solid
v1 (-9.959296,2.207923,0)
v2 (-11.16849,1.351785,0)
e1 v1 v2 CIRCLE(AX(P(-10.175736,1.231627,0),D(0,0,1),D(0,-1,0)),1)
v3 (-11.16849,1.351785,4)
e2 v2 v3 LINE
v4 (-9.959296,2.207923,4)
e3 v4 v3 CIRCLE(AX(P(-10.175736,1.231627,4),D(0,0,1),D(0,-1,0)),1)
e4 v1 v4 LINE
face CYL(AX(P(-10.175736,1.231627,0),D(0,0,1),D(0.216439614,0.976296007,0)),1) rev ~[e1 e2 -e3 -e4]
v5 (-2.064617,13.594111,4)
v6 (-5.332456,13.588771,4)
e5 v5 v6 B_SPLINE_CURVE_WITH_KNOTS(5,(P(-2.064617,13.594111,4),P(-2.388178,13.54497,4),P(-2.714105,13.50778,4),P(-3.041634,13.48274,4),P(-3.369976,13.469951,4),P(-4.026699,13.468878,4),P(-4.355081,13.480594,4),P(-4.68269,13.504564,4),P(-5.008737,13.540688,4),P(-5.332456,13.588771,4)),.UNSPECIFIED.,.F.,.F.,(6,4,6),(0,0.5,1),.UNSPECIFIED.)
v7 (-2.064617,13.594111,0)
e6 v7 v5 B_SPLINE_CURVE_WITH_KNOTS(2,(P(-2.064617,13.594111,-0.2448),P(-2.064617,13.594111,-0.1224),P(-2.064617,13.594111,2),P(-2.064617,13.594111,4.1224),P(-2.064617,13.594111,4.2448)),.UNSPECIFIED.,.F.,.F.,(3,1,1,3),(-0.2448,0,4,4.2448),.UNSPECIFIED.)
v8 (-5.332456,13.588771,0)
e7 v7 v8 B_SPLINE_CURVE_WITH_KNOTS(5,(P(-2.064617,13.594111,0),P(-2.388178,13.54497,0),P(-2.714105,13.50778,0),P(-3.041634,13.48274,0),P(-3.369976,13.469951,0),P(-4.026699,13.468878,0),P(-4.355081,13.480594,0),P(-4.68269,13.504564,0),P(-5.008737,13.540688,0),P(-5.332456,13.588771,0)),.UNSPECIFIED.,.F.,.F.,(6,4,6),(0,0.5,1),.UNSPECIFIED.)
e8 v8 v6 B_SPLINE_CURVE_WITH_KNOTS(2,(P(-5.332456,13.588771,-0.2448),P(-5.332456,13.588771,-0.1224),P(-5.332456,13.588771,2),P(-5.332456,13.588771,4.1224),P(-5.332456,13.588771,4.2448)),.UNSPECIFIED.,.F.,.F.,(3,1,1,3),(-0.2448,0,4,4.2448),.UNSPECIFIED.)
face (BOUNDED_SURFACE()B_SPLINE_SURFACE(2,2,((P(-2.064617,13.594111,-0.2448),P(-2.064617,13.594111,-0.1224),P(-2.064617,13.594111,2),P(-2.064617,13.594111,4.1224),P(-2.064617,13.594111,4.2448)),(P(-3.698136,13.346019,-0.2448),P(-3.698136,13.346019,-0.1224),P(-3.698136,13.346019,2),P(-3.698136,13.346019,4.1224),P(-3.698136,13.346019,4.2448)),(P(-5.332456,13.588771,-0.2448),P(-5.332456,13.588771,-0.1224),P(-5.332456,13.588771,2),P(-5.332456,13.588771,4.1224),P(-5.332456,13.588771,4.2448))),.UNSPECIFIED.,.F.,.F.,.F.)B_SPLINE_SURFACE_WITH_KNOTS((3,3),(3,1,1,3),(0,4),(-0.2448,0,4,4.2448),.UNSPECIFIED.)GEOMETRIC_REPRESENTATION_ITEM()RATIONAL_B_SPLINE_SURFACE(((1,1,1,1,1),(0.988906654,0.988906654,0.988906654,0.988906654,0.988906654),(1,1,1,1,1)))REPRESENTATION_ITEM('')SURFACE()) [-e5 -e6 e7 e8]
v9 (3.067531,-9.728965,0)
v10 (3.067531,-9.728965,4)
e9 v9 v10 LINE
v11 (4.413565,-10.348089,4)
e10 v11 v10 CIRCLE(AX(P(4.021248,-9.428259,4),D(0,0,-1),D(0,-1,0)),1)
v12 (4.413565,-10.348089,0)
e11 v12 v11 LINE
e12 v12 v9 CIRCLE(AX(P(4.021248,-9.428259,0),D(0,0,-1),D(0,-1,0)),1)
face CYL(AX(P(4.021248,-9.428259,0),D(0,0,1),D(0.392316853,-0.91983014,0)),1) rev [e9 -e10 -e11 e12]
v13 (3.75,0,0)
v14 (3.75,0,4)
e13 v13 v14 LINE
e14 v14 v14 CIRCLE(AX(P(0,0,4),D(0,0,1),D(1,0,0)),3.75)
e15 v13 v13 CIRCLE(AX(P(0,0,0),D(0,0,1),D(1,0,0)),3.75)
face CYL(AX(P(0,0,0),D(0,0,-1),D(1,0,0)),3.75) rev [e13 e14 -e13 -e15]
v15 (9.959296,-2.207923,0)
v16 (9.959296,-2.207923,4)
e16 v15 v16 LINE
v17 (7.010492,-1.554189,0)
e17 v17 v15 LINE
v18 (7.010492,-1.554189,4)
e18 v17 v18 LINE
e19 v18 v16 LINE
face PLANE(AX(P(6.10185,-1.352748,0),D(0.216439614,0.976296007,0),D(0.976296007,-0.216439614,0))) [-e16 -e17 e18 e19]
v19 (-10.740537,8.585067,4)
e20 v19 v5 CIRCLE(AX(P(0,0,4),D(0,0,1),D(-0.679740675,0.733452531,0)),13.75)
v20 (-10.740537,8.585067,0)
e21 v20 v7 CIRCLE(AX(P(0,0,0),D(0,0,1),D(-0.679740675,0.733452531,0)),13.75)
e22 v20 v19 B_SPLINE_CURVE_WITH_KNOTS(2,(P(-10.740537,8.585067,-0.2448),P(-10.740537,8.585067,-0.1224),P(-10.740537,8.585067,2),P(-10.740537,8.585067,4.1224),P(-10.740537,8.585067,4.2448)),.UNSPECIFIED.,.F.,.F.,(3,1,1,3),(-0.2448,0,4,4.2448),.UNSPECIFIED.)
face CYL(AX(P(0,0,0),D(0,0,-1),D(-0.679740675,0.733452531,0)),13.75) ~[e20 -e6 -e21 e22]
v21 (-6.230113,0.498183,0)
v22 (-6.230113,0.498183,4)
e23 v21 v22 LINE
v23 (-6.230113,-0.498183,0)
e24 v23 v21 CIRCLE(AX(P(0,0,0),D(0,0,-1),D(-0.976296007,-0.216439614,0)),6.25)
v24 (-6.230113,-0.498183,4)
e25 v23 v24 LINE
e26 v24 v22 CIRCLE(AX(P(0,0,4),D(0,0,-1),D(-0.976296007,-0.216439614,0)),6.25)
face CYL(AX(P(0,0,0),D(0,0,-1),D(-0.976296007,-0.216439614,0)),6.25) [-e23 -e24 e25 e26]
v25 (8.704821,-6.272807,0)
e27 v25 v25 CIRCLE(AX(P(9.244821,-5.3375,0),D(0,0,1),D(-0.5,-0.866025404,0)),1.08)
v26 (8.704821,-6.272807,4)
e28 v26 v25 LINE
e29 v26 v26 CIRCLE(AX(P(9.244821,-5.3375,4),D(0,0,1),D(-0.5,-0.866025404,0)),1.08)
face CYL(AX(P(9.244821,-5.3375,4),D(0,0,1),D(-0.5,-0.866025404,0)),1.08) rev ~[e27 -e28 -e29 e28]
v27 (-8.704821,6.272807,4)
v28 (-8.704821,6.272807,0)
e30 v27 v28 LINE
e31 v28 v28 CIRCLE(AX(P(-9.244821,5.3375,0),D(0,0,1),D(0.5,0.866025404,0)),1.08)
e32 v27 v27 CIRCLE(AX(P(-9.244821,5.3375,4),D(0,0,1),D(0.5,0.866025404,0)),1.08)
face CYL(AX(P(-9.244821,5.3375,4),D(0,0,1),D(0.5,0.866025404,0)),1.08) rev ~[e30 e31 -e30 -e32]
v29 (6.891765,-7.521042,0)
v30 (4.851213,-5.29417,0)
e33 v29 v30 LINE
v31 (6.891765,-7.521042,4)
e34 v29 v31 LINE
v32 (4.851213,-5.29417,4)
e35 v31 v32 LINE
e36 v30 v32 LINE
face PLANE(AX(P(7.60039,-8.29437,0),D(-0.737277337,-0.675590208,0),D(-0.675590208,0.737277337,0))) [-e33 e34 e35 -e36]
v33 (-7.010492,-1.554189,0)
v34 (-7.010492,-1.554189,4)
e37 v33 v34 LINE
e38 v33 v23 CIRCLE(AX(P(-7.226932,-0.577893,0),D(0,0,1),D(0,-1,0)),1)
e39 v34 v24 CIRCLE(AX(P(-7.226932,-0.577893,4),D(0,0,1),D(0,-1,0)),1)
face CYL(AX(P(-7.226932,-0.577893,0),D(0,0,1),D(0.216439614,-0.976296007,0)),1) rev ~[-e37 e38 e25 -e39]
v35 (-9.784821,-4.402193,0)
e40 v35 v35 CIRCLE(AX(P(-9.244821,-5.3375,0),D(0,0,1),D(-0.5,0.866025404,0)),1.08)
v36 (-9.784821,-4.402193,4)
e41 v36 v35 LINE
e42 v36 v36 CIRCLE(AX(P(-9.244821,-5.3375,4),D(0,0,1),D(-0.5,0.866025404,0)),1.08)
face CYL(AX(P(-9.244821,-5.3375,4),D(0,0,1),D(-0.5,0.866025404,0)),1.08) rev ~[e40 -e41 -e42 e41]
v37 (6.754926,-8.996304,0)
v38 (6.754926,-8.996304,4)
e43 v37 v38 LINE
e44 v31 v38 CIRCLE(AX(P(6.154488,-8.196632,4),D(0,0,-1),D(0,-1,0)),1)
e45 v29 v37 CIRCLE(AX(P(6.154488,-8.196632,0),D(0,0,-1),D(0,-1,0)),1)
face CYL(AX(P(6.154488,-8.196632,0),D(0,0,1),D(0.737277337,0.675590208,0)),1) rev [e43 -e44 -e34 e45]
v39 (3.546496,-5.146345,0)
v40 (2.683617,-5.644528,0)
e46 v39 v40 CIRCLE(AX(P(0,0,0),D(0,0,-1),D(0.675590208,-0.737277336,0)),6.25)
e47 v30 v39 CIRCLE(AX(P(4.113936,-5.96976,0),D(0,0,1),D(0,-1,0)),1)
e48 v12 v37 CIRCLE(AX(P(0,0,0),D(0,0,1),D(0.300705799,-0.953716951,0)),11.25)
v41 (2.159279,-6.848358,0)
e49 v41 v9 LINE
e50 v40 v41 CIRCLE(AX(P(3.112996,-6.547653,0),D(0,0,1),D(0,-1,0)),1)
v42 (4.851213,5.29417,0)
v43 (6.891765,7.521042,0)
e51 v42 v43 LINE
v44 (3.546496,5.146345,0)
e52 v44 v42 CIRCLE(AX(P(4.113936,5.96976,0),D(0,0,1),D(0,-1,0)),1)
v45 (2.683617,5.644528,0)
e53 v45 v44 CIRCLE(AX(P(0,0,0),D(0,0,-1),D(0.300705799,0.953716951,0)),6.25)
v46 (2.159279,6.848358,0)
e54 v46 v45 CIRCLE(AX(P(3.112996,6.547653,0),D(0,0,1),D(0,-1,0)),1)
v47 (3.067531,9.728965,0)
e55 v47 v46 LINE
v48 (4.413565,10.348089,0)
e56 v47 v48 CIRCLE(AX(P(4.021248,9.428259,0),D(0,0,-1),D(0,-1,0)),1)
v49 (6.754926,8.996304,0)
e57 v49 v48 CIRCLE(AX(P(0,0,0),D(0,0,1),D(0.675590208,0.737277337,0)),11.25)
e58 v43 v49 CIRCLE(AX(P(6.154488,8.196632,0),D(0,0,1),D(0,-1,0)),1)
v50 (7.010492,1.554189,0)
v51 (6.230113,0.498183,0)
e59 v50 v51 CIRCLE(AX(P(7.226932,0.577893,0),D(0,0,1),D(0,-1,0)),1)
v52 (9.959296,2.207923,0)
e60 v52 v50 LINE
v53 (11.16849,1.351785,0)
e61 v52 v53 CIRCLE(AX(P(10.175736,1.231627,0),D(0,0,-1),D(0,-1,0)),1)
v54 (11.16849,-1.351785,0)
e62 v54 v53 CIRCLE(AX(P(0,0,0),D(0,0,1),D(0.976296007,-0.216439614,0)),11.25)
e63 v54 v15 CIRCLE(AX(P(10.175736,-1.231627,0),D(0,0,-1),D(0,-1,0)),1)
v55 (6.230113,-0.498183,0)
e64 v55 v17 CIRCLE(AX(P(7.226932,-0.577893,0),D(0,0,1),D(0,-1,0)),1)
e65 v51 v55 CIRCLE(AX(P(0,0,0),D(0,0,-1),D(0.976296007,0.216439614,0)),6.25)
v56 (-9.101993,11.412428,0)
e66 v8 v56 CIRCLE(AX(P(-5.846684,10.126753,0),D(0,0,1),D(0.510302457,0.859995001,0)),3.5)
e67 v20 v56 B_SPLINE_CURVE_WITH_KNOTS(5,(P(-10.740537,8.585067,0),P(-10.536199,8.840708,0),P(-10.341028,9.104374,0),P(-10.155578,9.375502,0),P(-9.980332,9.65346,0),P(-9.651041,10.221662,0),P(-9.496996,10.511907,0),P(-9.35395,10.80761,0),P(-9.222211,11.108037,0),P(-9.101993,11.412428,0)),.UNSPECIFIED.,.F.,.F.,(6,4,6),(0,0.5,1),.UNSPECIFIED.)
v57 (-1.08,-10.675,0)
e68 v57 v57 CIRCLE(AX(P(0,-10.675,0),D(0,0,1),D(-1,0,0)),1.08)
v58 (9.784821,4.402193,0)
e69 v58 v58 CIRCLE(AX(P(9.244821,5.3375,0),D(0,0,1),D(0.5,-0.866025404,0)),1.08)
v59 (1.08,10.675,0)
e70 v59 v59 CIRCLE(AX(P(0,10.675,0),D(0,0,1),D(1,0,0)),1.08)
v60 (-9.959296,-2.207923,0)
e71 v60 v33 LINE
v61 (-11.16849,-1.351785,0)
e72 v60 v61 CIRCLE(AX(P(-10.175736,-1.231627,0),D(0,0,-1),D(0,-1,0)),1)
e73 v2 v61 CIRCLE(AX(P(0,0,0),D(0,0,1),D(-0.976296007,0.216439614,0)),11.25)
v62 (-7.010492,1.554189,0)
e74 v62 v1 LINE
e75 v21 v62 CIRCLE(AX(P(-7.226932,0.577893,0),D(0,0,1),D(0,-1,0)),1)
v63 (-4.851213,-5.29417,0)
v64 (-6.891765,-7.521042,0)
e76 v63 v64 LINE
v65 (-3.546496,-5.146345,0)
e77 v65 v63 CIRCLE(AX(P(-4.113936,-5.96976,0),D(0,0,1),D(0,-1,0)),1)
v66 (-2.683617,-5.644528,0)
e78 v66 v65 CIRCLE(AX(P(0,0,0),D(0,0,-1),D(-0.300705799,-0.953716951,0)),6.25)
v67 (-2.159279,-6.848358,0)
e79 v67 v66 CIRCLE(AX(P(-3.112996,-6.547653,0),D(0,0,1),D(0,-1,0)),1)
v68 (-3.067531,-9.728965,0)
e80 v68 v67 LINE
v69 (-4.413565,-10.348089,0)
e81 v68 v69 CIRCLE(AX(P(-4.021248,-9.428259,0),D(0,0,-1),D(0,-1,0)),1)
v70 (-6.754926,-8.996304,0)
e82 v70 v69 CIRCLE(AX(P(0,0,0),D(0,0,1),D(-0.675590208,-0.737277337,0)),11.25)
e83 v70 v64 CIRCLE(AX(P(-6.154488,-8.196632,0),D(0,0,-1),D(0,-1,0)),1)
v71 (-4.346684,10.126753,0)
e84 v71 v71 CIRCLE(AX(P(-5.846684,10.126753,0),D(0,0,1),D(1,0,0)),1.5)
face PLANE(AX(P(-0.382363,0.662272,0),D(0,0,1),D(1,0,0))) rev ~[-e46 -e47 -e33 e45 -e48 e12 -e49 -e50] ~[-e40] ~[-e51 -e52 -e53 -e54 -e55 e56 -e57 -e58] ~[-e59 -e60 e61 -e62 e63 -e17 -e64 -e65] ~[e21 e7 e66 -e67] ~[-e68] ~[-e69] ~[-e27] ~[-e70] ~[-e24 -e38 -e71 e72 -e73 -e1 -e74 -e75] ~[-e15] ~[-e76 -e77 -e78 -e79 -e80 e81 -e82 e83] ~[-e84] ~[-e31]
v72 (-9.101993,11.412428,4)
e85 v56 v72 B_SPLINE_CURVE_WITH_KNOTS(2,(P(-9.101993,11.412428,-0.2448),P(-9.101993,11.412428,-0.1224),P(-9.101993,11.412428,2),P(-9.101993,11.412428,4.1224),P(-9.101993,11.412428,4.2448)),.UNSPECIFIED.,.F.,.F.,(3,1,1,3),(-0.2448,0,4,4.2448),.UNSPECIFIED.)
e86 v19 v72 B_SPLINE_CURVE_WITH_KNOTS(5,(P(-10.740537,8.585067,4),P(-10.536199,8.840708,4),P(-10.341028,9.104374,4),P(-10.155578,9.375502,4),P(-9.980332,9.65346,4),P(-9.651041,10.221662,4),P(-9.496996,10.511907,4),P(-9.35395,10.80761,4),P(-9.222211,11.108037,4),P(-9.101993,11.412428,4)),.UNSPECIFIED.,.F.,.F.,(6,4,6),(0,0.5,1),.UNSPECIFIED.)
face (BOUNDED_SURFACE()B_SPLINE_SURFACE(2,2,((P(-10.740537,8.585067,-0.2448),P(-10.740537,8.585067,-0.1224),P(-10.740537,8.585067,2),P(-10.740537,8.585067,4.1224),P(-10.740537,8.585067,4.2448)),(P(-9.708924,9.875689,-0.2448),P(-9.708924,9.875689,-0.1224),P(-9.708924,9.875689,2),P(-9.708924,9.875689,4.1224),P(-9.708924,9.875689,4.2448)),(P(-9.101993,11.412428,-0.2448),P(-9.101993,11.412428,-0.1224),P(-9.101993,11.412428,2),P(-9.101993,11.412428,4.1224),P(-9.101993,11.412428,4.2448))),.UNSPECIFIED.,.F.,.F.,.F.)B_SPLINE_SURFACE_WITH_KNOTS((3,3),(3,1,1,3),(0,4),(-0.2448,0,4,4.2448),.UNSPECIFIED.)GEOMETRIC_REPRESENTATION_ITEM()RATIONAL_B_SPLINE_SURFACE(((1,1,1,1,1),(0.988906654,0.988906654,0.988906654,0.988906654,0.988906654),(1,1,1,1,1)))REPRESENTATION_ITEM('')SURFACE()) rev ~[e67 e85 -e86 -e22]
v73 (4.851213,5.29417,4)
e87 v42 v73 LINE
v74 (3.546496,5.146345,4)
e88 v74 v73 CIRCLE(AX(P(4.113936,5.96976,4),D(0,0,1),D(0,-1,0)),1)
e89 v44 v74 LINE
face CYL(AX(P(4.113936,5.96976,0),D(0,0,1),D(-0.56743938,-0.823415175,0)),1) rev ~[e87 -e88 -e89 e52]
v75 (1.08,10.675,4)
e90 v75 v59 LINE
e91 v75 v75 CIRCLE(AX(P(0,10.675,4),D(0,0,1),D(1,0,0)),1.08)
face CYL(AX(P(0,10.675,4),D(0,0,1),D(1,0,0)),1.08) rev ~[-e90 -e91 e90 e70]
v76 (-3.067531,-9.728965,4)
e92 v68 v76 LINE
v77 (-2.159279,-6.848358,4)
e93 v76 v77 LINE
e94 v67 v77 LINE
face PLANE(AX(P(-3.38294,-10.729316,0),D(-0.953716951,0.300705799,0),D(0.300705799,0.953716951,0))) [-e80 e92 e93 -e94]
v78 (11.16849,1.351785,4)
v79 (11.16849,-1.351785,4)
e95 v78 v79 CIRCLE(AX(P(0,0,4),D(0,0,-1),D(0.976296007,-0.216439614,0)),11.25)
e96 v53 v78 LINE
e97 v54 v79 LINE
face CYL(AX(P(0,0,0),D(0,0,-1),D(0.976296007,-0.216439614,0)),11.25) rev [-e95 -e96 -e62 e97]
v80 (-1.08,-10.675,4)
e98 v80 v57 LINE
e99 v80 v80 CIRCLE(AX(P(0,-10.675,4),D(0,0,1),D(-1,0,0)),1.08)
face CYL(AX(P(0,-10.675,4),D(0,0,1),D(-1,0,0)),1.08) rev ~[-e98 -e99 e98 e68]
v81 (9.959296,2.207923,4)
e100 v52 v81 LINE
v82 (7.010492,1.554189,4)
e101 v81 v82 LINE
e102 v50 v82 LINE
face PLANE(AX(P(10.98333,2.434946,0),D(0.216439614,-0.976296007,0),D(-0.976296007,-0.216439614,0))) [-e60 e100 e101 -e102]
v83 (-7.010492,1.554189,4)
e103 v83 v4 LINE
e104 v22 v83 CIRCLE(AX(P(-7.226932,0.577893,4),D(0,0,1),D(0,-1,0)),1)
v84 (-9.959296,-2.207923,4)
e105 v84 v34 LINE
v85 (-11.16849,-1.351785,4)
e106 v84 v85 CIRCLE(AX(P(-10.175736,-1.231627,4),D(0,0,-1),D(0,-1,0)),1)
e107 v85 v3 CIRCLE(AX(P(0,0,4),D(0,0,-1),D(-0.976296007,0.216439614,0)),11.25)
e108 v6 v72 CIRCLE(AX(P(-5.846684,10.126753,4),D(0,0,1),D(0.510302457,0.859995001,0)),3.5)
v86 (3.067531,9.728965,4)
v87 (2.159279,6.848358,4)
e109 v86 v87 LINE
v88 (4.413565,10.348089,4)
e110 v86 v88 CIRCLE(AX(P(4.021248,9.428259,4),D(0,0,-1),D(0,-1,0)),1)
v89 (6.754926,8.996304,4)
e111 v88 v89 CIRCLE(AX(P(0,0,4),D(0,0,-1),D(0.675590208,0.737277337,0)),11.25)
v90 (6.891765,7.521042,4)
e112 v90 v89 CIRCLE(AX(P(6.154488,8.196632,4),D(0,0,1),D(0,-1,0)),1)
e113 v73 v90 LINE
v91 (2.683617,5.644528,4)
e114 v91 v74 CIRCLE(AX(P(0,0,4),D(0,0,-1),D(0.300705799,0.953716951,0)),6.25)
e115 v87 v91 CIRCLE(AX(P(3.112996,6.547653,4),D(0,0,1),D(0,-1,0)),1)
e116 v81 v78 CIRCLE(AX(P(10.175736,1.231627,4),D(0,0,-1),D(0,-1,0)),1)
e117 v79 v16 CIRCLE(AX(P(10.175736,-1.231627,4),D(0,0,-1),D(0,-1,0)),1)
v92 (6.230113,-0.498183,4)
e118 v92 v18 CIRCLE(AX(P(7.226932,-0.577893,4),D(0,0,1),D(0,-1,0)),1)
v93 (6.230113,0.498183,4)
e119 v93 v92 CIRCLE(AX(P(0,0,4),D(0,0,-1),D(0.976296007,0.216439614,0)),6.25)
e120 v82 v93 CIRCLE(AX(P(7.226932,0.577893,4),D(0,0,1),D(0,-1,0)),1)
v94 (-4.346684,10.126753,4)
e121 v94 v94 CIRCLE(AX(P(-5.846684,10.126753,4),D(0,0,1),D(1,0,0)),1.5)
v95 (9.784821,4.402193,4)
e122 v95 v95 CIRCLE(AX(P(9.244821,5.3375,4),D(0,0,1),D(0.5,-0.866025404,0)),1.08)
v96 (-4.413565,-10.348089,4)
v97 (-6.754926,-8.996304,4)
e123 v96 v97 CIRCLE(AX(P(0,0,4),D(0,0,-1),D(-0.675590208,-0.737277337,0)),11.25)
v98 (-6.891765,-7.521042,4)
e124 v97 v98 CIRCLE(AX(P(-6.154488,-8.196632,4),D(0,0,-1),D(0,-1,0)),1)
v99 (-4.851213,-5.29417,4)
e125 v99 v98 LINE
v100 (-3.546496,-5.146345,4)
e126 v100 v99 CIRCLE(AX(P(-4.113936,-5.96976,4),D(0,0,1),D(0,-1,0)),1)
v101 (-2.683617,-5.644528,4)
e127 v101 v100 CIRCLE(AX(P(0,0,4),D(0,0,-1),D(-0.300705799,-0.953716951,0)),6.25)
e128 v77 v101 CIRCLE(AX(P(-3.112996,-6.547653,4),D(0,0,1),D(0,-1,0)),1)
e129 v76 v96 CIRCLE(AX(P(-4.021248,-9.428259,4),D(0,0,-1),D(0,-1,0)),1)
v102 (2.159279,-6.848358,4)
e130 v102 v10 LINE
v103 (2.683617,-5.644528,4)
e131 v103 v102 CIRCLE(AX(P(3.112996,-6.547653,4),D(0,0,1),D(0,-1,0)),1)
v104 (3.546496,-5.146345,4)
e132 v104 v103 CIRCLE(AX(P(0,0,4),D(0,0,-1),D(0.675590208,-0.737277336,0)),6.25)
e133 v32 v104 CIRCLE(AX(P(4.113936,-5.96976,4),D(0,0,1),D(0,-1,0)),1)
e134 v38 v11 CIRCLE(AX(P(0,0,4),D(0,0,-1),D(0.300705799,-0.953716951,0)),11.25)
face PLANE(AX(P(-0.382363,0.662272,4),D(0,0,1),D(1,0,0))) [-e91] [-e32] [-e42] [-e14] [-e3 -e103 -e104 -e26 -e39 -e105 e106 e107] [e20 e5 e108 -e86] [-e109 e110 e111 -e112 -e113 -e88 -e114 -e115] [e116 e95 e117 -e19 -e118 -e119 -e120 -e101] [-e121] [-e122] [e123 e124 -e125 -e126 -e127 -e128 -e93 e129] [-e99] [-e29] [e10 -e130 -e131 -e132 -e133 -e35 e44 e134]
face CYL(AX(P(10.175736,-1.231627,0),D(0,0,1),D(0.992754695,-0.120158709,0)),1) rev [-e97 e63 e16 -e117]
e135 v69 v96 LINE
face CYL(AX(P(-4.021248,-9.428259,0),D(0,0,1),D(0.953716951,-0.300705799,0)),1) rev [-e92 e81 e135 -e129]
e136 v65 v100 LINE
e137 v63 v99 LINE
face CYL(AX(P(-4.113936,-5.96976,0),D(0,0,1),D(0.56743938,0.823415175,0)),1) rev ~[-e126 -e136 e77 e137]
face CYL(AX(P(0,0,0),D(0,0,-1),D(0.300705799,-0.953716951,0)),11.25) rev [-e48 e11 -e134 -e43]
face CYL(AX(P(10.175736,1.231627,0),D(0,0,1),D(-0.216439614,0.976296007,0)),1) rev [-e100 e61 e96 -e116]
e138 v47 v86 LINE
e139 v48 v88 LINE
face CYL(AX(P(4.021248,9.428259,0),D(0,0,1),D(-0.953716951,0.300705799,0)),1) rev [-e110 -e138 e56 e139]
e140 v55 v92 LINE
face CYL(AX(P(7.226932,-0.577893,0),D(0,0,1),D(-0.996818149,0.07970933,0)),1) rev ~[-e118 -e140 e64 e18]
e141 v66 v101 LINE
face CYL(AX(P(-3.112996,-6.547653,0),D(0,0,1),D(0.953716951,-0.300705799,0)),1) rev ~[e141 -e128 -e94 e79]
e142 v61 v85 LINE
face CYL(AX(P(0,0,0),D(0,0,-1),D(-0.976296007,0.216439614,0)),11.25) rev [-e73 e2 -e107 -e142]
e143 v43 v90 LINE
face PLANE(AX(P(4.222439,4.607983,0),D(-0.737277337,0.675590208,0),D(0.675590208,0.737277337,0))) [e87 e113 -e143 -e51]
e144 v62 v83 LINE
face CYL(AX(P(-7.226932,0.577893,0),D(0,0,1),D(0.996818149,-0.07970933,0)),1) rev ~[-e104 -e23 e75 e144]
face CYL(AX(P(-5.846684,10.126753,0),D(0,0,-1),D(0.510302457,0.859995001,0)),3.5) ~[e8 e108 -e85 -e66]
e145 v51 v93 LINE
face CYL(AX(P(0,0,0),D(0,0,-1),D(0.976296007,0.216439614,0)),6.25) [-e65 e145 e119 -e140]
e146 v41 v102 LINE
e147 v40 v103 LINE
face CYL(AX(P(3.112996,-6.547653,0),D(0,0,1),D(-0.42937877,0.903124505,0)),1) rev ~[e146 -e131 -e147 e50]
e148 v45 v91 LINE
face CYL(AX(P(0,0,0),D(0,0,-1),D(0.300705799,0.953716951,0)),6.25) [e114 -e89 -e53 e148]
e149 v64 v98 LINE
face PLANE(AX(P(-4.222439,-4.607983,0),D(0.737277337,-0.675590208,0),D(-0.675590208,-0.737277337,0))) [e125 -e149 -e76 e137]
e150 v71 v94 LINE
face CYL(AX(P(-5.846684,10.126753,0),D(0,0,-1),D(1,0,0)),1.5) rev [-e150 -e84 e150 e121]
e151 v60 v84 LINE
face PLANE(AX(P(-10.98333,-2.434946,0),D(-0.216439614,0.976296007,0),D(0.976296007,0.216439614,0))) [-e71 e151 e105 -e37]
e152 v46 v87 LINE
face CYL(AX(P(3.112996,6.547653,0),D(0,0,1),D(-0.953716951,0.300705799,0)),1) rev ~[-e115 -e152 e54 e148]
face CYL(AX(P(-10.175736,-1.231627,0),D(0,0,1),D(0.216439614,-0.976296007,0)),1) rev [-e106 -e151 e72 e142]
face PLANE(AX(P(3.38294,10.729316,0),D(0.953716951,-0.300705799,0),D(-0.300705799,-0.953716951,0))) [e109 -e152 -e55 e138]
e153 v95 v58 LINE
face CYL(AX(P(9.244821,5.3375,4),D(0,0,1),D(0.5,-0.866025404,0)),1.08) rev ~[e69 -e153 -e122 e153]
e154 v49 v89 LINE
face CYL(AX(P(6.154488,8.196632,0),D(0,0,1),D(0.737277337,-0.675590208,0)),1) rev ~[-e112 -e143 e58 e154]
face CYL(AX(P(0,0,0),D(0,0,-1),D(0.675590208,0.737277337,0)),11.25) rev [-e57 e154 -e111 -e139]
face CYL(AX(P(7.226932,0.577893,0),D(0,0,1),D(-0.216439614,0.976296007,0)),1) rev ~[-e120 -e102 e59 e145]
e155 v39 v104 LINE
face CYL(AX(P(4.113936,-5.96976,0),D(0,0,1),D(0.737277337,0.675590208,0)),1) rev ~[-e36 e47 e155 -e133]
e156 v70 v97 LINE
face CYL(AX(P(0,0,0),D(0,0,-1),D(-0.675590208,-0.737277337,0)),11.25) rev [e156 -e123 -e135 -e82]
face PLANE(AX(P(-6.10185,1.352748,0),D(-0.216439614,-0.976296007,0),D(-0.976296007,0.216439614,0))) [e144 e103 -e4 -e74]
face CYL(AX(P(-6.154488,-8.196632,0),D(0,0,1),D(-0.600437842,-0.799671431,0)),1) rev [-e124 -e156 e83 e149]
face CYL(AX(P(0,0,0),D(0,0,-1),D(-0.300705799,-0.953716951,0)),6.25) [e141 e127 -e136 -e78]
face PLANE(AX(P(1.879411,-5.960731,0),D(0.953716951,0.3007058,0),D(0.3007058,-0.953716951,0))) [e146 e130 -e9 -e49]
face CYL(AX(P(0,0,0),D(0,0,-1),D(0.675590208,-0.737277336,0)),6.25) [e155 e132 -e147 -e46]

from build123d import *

# Parameters (mm, degrees)
ESQUISSE1_R                        = 3.75
ESQUISSE1_R_2                      = 1.5
BOSS_EXTRU_1_DEPTH                 = 4
ENL_V_MAT_EXTRU_1_REACH            = 21.853
ESQUISSE2_R                        = 1.08
R_P_TITION_CIRCULAIRE1_COUNT       = 6
CONG_1_R                           = 11
ENL_V_MAT_EXTRU_2_REACH            = 21.853
CONG_2_R                           = 1
R_P_TITION_CIRCULAIRE2_COUNT       = 5
R_P_TITION_CIRCULAIRE2_ANGLE       = 240
CONG_2_OF_R_P_TITION_CIRCULAIRE2_R = 1


with BuildPart() as part:
    # Esquisse1 → Boss.-Extru.1 (new body)
    with BuildSketch(Plane.XY):
        with BuildLine():
            ThreePointArc((-9.34643428, 10.084972298), (6.875, -11.907849302), (-4.060625067, 13.13673567))
            ThreePointArc((-4.060625067, 13.13673567), (-7.596683666, 13.157842079), (-9.34643428, 10.084972298))
        make_face()
        Circle(ESQUISSE1_R, mode=Mode.SUBTRACT)
        with Locations((-5.846683666, 10.126753165)):
            Circle(ESQUISSE1_R_2, mode=Mode.SUBTRACT)
    extrude(amount=BOSS_EXTRU_1_DEPTH)

    # Esquisse2 → Enlèv. mat.-Extru.1 (cut, up to next)
    with BuildSketch(Plane.XY.offset(4), mode=Mode.PRIVATE) as enl_v_mat_extru_1_sk1:
        with Locations((0, 10.675)):
            Circle(ESQUISSE2_R)
    enl_v_mat_extru_1_tool1 = extrude(enl_v_mat_extru_1_sk1.sketch, amount=-ENL_V_MAT_EXTRU_1_REACH, mode=Mode.PRIVATE) & part.part
    enl_v_mat_extru_1 = enl_v_mat_extru_1_tool1.solids().sort_by_distance((0, 10.675, 4))[0]
    add(enl_v_mat_extru_1, mode=Mode.SUBTRACT)

    # Répétition circulaire1: Enlèv. mat.-Extru.1 ×6 about axis
    r_p_tition_circulaire1_axis = Axis((0, 0, 0), (0, 0, 1))
    for i in range(1, R_P_TITION_CIRCULAIRE1_COUNT):
        add(enl_v_mat_extru_1.rotate(r_p_tition_circulaire1_axis, i * 360 / R_P_TITION_CIRCULAIRE1_COUNT), mode=Mode.SUBTRACT)

    # Congé1
    cong_1_edges = [part.edges().sort_by_distance(p)[0] for p in [
        (-4.060625067, 13.13673567, 2),
        (-9.34643428, 10.084972298, 2),
    ]]
    fillet(cong_1_edges, radius=CONG_1_R)

    # Esquisse3 → Enlèv. mat.-Extru.2 (cut, up to next)
    with BuildSketch(Plane(origin=(0, 0, 0), x_dir=(-1, 0, 0), z_dir=(0, 0, -1)), mode=Mode.PRIVATE) as enl_v_mat_extru_2_sk1:
        with BuildLine():
            Line((-3.382940244, 10.729315696), (-1.879411247, 5.960730942))
            ThreePointArc((-1.879411247, 5.960730942), (-3.125, 5.412658774), (-4.222438798, 4.607983355))
            Line((-4.222438798, 4.607983355), (-7.600389836, 8.294370039))
            ThreePointArc((-7.600389836, 8.294370039), (-5.625, 9.742785793), (-3.382940244, 10.729315696))
        make_face()
    enl_v_mat_extru_2_tool1 = extrude(enl_v_mat_extru_2_sk1.sketch, amount=-ENL_V_MAT_EXTRU_2_REACH, mode=Mode.PRIVATE) & part.part
    enl_v_mat_extru_2 = enl_v_mat_extru_2_tool1.solids().sort_by_distance((4.458482, 7.722318, 0))[0]
    add(enl_v_mat_extru_2, mode=Mode.SUBTRACT)

    # Congé2
    cong_2_edges = [part.edges().sort_by_distance(p)[0] for p in [
        (7.600389836, 8.294370039, 2),
        (3.382940244, 10.729315696, 2),
        (1.879411247, 5.960730942, 2),
        (4.222438798, 4.607983355, 2),
    ]]
    fillet(cong_2_edges, radius=CONG_2_R)

    # Répétition circulaire2: Enlèv. mat.-Extru.2 ×5 about axis
    r_p_tition_circulaire2_axis = Axis((0, 0, 0), (0, 0, -1))
    for i in range(1, R_P_TITION_CIRCULAIRE2_COUNT):
        add(enl_v_mat_extru_2.rotate(r_p_tition_circulaire2_axis, i * R_P_TITION_CIRCULAIRE2_ANGLE / (R_P_TITION_CIRCULAIRE2_COUNT - 1)), mode=Mode.SUBTRACT)

    # Congé2 of Répétition circulaire2
    cong_2_of_r_p_tition_circulaire2_edges = [part.edges().sort_by_distance(p)[0] for p in [
        (10.98333008, -2.434945657, 2),
        (10.98333008, 2.434945657, 2),
        (6.101850044, 1.352747587, 2),
        (6.101850044, -1.352747587, 2),
        (3.382940244, -10.729315696, 2),
        (7.600389836, -8.294370039, 2),
        (4.222438798, -4.607983355, 2),
        (1.879411247, -5.960730942, 2),
        (-7.600389836, -8.294370039, 2),
        (-3.382940244, -10.729315696, 2),
        (-1.879411247, -5.960730942, 2),
        (-4.222438798, -4.607983355, 2),
        (-10.98333008, 2.434945657, 2),
        (-10.98333008, -2.434945657, 2),
        (-6.101850044, -1.352747587, 2),
        (-6.101850044, 1.352747587, 2),
    ]]
    fillet(cong_2_of_r_p_tition_circulaire2_edges, radius=CONG_2_OF_R_P_TITION_CIRCULAIRE2_R)


solid = part.part
